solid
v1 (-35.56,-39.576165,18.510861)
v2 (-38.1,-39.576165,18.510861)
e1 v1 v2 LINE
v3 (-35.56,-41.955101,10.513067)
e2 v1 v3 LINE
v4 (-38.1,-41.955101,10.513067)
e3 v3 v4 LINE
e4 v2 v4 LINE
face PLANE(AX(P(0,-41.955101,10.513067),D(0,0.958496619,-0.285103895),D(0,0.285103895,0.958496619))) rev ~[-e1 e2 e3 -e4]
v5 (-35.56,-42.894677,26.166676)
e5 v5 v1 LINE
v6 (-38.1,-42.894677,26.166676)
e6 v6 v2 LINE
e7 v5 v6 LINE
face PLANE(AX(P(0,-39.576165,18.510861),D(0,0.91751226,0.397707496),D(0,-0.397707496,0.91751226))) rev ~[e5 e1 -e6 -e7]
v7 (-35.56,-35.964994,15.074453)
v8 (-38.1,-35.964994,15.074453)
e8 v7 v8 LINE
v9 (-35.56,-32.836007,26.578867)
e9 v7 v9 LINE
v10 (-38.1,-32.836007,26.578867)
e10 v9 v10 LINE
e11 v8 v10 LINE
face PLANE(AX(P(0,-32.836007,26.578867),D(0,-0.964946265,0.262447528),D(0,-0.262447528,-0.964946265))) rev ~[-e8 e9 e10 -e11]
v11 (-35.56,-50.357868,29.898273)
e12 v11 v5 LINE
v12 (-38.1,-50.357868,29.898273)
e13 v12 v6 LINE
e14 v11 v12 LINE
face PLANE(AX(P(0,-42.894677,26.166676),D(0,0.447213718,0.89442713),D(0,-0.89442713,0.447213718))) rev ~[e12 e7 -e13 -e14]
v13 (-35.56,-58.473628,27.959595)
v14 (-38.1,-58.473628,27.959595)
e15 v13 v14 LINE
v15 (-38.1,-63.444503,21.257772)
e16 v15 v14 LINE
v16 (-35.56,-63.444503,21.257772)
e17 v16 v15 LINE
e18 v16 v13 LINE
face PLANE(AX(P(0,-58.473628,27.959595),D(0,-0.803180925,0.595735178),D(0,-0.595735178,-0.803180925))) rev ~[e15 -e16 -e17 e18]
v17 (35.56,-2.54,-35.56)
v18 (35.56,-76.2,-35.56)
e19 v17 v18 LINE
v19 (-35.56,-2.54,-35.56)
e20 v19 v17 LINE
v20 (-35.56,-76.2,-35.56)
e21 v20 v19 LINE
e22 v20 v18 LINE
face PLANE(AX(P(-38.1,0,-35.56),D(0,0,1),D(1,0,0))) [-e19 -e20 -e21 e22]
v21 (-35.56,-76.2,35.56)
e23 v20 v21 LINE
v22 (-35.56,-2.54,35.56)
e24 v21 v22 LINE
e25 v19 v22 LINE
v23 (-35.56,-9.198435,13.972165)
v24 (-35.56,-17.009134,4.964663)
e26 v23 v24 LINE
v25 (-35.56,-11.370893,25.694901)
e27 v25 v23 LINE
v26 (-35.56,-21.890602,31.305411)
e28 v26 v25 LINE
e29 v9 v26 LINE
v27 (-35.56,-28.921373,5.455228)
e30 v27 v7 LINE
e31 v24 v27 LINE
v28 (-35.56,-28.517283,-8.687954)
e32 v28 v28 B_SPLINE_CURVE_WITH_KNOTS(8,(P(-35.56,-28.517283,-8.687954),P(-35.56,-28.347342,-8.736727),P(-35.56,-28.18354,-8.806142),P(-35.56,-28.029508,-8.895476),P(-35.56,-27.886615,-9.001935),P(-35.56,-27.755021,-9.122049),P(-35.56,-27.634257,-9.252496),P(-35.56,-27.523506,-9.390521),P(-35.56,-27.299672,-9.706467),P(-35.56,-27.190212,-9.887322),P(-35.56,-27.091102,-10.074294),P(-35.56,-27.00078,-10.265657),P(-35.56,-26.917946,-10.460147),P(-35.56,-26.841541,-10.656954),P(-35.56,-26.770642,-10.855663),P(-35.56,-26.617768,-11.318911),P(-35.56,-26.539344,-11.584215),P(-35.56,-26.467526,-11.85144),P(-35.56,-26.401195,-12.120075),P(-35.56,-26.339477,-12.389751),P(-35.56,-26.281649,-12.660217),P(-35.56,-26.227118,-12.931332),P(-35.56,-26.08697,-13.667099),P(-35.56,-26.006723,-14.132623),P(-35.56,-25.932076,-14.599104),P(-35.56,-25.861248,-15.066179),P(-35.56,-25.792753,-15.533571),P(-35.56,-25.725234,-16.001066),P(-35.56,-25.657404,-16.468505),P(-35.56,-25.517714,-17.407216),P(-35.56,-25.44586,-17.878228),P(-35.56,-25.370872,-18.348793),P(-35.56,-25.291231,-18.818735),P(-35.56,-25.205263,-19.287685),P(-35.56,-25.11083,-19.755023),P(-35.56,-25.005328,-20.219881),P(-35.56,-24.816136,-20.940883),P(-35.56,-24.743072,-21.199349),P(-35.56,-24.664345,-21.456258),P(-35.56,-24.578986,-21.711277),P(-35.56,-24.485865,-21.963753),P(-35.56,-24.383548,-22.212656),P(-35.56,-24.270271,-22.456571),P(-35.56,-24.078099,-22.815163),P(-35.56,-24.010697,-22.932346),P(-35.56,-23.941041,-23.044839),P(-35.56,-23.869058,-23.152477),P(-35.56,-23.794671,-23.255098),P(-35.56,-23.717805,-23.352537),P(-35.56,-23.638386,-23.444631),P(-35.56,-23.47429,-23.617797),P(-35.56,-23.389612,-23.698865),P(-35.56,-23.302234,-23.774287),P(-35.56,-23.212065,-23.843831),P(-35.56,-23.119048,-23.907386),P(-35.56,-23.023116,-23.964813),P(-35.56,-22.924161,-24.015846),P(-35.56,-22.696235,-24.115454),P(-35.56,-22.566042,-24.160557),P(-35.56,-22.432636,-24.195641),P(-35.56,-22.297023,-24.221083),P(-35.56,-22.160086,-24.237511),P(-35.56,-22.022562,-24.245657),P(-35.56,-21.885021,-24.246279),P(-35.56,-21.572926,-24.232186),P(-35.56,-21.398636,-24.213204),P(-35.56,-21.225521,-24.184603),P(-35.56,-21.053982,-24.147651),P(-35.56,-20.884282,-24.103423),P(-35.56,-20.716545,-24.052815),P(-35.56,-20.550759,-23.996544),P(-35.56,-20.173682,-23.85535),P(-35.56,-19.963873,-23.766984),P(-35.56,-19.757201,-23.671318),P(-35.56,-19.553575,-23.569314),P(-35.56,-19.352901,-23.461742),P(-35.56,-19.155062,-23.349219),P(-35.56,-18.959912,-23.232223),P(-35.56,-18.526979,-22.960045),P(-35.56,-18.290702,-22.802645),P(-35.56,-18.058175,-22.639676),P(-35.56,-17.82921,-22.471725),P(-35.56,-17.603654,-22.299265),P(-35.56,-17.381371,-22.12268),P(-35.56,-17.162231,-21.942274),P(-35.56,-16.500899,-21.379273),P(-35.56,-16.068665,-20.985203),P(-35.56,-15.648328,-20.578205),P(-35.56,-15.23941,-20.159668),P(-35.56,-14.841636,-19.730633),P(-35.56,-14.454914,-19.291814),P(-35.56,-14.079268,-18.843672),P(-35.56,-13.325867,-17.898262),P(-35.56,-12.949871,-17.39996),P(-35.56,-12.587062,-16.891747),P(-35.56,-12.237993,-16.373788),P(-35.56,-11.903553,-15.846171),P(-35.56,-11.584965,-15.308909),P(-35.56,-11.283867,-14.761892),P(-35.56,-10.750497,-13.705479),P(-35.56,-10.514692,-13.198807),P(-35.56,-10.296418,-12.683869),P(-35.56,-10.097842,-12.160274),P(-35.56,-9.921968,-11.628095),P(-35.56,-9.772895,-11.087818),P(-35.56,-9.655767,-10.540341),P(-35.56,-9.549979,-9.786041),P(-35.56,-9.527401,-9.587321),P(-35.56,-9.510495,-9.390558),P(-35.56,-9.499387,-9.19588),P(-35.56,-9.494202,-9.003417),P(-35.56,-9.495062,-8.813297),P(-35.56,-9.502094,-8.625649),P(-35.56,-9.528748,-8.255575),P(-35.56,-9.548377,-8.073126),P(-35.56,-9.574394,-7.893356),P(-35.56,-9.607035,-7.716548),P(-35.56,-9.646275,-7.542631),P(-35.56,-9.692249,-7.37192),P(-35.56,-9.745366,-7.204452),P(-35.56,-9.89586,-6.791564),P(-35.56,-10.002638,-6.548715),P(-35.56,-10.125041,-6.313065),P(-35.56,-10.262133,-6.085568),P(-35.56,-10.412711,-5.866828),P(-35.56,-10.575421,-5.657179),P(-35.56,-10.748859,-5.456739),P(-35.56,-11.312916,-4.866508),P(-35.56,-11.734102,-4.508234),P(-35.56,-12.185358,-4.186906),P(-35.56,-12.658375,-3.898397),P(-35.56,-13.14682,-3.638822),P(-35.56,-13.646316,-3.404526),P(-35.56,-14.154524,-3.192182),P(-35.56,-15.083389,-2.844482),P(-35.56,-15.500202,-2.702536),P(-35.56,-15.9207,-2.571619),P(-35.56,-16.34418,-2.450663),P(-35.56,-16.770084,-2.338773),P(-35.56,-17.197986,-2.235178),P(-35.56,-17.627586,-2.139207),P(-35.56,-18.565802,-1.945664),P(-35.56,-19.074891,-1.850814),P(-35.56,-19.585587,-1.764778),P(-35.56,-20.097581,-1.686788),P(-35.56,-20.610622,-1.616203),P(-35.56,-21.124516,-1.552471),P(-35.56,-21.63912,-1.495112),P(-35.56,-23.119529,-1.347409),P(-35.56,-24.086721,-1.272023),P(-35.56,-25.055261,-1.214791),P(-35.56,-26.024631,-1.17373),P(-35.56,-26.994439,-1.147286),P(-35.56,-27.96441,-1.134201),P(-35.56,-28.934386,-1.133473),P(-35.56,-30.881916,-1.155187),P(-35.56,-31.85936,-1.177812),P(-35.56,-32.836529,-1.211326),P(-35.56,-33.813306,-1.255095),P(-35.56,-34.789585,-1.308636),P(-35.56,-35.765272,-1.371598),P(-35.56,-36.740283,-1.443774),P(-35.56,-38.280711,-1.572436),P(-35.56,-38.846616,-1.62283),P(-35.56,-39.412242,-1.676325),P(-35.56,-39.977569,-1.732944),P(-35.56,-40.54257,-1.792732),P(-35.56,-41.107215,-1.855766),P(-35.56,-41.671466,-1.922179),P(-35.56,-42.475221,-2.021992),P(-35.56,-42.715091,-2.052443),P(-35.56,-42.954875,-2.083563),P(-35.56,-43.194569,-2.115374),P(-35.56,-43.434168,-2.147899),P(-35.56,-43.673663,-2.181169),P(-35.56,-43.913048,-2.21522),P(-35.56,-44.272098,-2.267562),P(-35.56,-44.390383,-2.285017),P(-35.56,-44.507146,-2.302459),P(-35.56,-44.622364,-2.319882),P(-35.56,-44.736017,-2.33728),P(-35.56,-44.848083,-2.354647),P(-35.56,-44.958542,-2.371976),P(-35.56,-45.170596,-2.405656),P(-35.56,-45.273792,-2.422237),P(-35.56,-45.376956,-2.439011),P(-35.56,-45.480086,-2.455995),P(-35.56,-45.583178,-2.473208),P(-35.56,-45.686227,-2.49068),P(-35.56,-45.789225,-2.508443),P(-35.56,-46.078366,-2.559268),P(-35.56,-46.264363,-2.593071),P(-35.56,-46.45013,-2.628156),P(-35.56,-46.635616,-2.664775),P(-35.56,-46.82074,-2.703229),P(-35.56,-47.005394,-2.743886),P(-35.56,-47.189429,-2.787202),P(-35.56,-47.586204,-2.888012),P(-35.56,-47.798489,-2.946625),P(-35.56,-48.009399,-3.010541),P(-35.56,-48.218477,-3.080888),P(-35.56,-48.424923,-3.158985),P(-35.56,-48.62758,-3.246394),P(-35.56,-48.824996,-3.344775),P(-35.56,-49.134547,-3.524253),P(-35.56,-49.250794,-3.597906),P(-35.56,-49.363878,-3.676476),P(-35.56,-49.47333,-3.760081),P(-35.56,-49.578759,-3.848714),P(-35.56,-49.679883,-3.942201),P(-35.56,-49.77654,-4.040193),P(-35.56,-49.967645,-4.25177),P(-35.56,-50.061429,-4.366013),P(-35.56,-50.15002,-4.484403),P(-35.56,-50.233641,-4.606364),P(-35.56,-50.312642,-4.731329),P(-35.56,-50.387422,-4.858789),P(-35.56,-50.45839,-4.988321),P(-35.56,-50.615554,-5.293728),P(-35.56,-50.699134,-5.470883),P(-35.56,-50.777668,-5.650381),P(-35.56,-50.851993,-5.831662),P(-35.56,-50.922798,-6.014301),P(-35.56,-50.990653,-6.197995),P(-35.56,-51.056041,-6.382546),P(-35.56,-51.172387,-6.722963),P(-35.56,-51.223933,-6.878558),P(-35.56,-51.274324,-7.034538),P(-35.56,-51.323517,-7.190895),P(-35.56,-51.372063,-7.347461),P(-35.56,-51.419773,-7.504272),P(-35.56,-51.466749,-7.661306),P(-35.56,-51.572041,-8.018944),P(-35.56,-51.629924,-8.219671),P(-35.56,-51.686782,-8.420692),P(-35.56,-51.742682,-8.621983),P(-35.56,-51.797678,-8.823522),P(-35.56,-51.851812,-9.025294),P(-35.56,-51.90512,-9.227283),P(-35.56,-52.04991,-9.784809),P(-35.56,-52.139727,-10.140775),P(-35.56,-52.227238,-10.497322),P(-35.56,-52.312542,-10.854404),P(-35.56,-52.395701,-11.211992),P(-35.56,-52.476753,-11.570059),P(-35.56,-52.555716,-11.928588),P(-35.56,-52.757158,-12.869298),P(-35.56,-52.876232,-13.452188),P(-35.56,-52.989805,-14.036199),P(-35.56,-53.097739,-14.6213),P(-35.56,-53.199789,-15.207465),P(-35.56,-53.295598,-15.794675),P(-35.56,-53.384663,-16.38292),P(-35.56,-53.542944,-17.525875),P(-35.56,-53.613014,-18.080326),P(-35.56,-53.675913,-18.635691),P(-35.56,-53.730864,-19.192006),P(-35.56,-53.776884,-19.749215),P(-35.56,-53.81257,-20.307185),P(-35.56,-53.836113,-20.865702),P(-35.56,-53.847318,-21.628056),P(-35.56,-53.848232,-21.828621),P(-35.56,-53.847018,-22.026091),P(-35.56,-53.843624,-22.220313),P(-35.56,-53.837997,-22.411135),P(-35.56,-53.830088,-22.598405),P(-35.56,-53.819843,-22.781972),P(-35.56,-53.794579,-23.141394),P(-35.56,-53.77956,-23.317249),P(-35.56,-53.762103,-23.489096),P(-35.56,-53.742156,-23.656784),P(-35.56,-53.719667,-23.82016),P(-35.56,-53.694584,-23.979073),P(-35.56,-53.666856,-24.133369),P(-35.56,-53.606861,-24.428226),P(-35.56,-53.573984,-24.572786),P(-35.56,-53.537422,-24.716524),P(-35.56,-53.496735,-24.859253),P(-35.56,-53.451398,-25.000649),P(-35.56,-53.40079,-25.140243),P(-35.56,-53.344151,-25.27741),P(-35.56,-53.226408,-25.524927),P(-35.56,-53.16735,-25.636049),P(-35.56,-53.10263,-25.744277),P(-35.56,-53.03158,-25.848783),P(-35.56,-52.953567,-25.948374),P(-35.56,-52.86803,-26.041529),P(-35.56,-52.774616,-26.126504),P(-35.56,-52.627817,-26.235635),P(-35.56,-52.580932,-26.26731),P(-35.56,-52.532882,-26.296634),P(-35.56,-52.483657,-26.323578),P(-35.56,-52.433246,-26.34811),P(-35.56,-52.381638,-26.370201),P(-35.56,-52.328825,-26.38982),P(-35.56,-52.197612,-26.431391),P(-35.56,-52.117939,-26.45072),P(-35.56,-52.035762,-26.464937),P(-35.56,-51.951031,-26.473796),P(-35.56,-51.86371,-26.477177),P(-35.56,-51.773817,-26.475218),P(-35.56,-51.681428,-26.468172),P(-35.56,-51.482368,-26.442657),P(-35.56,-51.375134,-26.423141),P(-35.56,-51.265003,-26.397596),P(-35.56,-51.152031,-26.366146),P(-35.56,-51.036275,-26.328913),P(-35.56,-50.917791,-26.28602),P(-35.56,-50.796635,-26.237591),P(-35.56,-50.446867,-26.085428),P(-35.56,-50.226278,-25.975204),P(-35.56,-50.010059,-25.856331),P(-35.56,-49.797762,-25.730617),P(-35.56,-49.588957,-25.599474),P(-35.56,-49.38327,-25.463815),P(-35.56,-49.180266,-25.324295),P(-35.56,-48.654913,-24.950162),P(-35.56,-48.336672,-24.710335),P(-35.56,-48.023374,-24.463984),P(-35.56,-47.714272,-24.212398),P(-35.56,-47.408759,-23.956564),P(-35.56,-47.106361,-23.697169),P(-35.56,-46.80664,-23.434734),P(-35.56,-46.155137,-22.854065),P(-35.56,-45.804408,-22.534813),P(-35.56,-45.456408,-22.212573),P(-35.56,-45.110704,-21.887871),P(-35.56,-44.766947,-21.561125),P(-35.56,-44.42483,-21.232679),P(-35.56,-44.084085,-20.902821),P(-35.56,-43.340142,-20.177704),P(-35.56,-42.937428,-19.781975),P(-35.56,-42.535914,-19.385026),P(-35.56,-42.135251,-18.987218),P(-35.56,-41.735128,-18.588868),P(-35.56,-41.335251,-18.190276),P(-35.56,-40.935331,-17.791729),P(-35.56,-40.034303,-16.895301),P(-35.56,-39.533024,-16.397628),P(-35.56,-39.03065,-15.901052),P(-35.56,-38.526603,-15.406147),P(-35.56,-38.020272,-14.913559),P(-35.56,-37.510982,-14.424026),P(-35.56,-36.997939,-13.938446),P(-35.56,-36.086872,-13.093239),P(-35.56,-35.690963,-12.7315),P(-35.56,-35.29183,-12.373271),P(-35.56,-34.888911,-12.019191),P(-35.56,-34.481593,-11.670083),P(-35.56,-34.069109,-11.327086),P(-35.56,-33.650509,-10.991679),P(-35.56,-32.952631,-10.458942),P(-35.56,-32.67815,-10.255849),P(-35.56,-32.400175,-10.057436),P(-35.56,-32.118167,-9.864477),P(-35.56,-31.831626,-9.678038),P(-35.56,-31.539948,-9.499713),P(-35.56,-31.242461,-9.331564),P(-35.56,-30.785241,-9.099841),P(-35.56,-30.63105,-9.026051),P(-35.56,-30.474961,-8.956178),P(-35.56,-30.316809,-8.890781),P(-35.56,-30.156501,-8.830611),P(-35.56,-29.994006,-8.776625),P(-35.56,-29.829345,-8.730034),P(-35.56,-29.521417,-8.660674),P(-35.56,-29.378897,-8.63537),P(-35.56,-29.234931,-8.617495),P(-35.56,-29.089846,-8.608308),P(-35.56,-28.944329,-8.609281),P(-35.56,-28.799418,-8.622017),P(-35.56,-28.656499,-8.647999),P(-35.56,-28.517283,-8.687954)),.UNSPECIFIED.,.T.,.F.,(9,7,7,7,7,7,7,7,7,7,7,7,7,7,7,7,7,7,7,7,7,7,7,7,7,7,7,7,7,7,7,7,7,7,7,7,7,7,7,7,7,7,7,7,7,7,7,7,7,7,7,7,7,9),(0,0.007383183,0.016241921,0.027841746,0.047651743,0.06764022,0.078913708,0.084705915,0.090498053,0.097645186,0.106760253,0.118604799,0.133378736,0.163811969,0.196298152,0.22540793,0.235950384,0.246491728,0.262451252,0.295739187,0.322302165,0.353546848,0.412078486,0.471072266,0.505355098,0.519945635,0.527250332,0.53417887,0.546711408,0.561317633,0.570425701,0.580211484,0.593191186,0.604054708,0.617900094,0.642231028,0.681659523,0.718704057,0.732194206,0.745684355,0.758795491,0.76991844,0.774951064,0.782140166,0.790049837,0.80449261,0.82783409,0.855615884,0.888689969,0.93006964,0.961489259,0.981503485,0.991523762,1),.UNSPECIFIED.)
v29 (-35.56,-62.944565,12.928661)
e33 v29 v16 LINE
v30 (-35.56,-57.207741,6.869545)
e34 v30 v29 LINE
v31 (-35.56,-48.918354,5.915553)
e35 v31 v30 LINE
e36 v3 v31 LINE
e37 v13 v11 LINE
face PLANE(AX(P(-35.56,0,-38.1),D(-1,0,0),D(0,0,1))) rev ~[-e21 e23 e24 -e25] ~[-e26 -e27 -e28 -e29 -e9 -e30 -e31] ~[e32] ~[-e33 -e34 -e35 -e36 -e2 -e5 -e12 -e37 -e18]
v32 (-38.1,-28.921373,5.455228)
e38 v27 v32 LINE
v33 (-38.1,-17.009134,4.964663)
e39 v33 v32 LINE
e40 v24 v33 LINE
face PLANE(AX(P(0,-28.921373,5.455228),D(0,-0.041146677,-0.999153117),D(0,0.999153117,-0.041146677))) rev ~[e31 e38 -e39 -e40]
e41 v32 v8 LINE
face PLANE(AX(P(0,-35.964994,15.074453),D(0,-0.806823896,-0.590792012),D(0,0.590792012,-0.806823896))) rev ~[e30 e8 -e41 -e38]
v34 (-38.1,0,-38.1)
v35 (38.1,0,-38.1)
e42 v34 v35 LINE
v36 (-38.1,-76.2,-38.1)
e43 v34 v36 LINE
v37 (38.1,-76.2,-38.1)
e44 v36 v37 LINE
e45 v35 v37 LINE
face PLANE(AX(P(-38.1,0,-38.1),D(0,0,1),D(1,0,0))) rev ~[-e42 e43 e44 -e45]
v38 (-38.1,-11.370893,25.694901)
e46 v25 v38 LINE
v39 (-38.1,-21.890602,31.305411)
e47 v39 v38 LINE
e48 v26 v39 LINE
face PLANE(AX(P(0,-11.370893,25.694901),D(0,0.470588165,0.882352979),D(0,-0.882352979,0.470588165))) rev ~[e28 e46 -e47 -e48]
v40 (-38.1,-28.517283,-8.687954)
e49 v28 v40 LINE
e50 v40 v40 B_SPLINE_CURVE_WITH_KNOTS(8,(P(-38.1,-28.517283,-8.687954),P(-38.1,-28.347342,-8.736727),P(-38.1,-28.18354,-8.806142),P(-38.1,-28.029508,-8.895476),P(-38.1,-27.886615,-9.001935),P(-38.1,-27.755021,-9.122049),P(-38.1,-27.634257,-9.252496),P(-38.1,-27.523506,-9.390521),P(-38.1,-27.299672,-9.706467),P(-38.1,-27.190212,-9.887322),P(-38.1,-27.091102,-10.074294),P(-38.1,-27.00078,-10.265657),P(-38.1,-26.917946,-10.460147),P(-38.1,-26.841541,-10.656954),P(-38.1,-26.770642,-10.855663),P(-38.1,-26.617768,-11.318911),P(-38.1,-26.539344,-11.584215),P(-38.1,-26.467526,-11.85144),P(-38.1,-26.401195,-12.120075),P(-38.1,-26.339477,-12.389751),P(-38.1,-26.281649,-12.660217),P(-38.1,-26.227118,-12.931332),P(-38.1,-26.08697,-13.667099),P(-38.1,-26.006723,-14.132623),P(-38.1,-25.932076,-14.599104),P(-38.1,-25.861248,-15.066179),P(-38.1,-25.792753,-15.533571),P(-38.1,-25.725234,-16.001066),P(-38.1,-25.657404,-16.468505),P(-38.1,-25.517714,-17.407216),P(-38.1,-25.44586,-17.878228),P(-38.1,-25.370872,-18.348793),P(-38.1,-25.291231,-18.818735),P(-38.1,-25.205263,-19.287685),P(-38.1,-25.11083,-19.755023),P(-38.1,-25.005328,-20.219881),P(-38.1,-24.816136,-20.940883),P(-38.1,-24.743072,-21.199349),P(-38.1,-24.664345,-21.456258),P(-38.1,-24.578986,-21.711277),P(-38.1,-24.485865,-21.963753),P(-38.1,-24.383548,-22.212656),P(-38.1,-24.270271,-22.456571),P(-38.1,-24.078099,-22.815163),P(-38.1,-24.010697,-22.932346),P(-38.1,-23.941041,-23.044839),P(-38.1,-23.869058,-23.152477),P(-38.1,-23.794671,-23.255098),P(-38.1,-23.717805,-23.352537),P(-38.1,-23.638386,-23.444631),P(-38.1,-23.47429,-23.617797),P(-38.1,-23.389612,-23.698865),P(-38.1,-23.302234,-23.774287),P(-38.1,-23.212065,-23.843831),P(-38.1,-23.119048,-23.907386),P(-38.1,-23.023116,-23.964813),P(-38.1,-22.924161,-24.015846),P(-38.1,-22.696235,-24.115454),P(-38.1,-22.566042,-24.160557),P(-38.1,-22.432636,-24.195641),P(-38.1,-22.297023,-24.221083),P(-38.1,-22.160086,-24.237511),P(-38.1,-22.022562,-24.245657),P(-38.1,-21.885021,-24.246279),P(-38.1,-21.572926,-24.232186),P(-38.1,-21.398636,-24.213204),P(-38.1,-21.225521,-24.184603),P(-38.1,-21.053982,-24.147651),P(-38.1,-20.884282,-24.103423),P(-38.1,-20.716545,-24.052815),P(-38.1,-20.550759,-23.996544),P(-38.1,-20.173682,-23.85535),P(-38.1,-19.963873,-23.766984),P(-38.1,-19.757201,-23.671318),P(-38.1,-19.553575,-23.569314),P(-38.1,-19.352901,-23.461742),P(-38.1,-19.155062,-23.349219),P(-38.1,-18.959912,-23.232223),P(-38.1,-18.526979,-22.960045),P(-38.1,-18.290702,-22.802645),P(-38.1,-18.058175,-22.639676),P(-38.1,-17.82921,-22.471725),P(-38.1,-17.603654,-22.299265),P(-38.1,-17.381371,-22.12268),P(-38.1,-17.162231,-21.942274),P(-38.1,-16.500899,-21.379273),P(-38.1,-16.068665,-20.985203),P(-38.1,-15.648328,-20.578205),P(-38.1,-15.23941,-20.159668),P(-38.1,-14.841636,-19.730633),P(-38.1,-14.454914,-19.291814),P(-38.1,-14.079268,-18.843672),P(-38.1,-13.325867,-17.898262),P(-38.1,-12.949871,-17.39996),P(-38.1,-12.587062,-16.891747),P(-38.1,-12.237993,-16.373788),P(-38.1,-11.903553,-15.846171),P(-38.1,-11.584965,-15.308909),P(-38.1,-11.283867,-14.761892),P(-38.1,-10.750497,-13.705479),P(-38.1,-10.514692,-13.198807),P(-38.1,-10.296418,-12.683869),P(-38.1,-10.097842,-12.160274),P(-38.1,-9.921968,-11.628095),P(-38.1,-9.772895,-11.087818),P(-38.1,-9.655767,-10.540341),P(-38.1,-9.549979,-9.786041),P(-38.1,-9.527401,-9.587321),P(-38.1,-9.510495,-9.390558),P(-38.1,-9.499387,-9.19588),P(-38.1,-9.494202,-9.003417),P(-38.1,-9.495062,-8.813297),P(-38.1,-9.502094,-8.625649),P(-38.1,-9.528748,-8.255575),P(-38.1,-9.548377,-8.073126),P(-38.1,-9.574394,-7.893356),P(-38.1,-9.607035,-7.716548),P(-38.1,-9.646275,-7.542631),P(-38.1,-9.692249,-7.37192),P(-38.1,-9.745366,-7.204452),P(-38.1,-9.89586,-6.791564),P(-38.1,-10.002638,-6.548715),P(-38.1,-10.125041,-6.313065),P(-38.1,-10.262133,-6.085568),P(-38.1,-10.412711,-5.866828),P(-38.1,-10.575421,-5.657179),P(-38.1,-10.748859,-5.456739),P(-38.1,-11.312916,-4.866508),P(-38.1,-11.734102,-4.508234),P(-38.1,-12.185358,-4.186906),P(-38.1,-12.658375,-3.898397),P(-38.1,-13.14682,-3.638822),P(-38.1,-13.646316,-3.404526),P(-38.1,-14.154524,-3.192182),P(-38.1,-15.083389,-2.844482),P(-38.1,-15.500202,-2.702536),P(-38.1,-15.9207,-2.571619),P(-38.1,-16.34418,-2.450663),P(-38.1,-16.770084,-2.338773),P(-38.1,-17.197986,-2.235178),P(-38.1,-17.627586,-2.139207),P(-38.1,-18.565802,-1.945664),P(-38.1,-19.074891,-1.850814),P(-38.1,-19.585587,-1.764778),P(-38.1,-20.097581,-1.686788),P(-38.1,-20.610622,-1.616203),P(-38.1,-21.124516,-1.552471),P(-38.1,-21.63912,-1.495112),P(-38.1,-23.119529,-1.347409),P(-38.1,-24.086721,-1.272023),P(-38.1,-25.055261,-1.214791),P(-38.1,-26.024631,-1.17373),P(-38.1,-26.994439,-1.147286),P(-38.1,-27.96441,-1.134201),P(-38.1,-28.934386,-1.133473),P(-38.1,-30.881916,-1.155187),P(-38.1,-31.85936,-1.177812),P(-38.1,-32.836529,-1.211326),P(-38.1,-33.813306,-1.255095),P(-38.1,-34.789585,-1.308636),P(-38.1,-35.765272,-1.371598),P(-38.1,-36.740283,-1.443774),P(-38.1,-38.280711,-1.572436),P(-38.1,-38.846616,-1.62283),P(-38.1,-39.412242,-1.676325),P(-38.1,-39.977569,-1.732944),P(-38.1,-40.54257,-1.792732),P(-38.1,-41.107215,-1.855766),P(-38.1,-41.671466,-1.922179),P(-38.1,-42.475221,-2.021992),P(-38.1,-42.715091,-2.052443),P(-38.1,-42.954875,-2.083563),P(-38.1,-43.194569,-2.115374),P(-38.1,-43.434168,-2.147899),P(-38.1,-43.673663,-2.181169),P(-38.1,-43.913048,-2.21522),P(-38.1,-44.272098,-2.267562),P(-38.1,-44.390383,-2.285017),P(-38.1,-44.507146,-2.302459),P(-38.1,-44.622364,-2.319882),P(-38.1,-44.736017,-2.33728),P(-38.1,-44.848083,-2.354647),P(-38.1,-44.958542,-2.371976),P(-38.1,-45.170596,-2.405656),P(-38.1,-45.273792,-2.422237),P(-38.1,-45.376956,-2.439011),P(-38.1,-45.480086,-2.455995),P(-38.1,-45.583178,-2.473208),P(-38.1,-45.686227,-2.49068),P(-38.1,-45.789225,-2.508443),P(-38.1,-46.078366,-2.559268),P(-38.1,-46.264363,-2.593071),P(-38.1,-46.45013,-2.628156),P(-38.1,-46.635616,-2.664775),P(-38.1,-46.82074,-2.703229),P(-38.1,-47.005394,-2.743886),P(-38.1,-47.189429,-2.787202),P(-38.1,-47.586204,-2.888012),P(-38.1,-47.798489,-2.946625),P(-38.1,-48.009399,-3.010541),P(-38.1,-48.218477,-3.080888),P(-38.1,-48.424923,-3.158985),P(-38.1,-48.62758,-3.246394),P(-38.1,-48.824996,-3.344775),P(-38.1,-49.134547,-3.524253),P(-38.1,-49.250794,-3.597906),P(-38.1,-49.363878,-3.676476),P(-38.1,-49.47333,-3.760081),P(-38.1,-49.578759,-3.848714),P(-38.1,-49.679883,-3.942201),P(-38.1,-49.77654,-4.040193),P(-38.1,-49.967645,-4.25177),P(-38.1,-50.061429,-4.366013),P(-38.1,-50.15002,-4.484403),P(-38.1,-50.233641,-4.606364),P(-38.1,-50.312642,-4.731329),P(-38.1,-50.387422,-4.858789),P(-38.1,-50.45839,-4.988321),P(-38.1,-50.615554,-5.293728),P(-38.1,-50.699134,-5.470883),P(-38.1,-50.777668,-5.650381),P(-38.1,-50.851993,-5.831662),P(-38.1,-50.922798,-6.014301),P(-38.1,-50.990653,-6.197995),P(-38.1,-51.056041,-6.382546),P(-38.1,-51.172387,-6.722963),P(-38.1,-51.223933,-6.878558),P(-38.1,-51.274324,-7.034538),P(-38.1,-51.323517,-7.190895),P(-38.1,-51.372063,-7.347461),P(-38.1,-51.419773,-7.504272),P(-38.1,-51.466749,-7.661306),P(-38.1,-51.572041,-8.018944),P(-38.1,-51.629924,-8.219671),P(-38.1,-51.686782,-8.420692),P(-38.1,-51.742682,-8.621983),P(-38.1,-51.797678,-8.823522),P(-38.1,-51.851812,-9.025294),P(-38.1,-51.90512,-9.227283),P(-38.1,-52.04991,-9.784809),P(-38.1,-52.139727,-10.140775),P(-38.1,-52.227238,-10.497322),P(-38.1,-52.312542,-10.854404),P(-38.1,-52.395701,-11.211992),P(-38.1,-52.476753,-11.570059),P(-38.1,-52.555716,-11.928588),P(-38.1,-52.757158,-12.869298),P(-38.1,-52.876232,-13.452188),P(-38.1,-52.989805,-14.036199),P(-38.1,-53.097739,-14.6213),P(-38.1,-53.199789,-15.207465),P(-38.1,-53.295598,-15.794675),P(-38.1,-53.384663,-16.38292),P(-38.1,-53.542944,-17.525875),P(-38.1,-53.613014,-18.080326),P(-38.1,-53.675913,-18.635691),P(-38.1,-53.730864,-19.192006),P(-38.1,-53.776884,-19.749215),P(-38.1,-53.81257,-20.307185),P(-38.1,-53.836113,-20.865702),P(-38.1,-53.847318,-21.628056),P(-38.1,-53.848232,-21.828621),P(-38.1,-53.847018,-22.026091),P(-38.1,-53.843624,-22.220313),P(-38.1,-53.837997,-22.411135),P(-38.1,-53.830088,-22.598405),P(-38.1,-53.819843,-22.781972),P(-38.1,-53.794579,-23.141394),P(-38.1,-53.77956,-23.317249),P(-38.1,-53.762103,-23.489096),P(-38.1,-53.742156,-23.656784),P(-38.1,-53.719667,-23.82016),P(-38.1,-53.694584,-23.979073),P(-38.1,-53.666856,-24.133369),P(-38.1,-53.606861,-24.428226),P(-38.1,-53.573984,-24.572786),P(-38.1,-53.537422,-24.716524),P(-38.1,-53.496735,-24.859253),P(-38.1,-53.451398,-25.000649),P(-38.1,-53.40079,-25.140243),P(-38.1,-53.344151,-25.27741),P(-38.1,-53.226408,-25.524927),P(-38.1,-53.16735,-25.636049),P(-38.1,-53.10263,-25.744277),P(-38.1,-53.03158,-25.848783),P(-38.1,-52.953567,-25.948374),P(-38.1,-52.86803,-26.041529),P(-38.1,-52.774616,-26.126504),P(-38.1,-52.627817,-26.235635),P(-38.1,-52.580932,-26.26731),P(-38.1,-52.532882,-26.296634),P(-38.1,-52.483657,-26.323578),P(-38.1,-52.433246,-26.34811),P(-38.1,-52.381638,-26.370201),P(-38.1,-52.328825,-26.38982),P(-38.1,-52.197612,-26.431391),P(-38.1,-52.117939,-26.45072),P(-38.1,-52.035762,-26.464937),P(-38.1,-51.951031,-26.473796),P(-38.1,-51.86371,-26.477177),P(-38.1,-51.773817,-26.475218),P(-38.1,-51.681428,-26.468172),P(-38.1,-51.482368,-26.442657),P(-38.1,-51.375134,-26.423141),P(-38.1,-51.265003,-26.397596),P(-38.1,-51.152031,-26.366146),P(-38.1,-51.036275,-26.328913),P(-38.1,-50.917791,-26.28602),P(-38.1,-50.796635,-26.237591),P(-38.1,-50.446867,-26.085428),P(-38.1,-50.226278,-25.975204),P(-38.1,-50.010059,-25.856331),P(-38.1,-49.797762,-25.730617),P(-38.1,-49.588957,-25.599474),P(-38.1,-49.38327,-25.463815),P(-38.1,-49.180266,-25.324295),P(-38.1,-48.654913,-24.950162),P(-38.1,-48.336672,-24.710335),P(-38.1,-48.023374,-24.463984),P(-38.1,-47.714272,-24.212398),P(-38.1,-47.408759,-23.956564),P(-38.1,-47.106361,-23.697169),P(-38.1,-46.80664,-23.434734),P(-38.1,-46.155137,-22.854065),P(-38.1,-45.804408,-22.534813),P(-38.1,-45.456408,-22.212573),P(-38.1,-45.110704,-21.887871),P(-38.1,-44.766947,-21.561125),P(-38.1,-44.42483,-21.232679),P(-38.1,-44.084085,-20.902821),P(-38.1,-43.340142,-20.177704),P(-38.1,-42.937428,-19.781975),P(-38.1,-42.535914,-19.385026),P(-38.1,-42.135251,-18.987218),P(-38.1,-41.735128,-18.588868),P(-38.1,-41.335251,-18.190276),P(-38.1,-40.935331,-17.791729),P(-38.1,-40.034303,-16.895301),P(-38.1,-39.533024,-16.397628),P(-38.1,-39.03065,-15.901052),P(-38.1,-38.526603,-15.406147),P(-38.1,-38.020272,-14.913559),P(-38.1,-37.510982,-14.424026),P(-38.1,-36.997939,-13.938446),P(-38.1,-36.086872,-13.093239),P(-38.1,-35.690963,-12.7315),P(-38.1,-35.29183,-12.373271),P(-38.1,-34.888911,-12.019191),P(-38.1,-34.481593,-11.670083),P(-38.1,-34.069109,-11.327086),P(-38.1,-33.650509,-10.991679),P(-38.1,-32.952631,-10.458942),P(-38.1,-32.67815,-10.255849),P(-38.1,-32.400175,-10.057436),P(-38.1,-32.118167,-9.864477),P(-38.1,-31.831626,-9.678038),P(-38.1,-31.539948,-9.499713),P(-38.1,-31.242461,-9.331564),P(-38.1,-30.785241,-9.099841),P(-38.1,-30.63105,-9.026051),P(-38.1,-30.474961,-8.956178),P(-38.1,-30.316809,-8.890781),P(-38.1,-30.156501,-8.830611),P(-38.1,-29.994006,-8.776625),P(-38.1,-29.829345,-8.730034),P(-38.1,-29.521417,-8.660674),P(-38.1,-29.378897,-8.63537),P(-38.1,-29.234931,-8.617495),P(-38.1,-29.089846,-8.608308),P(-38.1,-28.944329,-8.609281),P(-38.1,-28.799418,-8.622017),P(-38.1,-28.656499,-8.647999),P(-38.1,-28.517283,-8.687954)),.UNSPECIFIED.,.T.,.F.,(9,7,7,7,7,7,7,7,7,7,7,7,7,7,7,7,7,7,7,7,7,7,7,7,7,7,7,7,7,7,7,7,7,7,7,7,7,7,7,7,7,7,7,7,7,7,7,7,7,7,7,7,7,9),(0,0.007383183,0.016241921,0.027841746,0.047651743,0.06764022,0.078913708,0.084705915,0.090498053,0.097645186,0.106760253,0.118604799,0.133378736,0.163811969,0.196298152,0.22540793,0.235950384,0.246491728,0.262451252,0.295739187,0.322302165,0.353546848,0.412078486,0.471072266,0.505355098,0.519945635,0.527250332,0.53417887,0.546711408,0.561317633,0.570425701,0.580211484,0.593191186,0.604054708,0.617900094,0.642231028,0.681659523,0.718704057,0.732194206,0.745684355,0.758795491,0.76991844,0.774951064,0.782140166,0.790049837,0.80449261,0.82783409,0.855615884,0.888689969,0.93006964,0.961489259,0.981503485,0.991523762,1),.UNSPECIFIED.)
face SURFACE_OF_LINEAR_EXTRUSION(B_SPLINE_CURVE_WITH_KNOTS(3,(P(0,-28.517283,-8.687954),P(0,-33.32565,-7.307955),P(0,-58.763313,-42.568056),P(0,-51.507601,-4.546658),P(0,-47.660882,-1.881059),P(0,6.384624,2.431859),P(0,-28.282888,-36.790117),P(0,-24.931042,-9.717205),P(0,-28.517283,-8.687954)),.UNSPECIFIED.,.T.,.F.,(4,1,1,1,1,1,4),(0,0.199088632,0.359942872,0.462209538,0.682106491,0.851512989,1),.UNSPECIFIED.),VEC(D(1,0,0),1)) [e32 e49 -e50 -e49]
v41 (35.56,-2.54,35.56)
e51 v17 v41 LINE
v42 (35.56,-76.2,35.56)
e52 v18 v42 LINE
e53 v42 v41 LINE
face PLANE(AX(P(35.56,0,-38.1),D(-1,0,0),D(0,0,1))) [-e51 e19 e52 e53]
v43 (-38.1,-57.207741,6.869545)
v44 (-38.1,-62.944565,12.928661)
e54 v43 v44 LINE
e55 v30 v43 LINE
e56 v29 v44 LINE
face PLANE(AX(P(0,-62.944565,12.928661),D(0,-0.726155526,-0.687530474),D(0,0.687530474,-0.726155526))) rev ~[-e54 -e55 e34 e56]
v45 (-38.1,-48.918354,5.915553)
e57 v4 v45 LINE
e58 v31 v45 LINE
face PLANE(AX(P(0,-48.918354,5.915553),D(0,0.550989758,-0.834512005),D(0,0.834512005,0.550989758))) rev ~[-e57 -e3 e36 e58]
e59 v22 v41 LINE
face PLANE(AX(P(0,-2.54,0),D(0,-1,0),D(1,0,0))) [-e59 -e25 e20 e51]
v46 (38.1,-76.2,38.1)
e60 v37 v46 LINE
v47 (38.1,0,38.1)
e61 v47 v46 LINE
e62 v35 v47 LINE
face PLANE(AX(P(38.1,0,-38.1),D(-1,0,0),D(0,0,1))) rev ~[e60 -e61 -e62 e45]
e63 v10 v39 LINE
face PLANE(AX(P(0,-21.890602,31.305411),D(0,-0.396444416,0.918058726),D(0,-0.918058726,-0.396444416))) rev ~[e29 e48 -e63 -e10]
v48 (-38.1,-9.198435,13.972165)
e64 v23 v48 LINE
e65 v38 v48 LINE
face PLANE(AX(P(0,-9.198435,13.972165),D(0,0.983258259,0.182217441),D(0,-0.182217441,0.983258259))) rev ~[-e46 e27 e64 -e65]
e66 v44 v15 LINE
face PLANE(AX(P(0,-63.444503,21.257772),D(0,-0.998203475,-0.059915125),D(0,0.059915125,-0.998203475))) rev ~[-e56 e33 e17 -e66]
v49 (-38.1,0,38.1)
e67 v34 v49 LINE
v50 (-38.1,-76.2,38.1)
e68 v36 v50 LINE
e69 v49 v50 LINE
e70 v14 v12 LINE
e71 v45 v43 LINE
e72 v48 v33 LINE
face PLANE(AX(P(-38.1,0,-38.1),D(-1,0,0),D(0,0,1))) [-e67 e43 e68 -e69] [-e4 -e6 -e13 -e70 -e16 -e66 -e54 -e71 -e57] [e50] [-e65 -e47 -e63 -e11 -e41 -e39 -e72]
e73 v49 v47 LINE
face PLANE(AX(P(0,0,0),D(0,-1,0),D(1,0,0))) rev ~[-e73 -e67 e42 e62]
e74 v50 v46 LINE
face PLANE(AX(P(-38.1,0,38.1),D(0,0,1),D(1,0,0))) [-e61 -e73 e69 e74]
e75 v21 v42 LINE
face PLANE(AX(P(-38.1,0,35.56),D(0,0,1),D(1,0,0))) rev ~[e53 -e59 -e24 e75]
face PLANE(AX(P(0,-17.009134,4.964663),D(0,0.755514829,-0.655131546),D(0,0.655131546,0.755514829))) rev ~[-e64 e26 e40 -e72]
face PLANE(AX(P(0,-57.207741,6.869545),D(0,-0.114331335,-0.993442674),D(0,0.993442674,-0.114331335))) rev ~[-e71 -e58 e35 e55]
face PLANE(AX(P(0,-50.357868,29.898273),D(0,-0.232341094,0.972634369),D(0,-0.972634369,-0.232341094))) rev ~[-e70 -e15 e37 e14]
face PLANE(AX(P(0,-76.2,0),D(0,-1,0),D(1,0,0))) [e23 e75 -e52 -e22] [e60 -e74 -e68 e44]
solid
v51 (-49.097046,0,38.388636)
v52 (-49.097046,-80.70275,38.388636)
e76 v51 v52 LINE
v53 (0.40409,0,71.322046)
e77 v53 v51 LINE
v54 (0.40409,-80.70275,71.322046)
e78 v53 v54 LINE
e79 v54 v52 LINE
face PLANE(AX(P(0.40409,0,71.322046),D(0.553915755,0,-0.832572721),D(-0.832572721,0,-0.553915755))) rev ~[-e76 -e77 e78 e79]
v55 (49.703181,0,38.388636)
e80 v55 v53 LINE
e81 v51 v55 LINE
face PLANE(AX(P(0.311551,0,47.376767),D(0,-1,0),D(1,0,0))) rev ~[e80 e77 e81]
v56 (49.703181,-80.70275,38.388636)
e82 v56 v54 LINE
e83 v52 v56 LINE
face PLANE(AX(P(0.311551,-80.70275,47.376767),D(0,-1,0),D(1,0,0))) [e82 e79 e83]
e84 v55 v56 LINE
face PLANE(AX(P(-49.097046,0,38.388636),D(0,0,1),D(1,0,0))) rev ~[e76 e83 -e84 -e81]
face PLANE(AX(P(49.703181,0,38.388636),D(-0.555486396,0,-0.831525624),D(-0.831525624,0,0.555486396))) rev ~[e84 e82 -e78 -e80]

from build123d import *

# Parameters (mm, degrees)
F0_W     = 76.2
F0_H     = 76.2
F1_DEPTH = 76.2
F2_T     = -2.54
F4_DEPTH = 80.70275
F6_DEPTH = 72.34948
F7_DEPTH = 45.27984


with BuildPart() as f1:
    # F0 (on Front) → F1 (new body)
    with BuildSketch(Plane.XZ):
        Rectangle(F0_W, F0_H)
    extrude(amount=F1_DEPTH)

    # F2
    f2_openings = [f1.faces().sort_by_distance(p)[0] for p in [
        (0, -76.2, 0),
    ]]
    offset(amount=F2_T, openings=f2_openings)

    # F5 (on Right) → F6 (cut)
    with BuildSketch(Plane.YZ):
        Polygon((-62.9445649822, 12.9286607004), (-57.2077408433, 6.8695452064), (-48.9183542253, 5.9155529274), (-41.9551012531, 10.5130674533), (-39.5761653803, 18.5108606416), (-42.8946771407, 26.166676174), (-50.3578680004, 29.898272878), (-58.4736280121, 27.9595951837), (-63.4445028697, 21.2577719303), align=None)
    extrude(amount=-F6_DEPTH, mode=Mode.SUBTRACT)

    # F5 (on Right) → F7 (cut)
    with BuildSketch(Plane.YZ):
        Polygon((-35.9649943015, 15.0744534794), (-28.9213731885, 5.4552275687), (-17.0091336025, 4.9646630483), (-9.198434917, 13.9721650078), (-11.3708925516, 25.694900752), (-21.8906015972, 31.3054111655), (-32.8360065796, 26.5788674732), align=None)
        with BuildLine():
            add(Edge.make_bspline(
                [(-28.5172834992, -8.687954396), (-33.3256495404, -7.3079547514), (-58.7633130578, -42.5680563185), (-51.5076013001, -4.5466579825), (-47.6608822964, -1.8810588006), (6.3846242278, 2.4318586114), (-28.2828882588, -36.7901174711), (-24.9310420648, -9.7172046367), (-28.5172834992, -8.687954396)],
                knots=[0, 0, 0, 0, 0.199088632, 0.3599428724, 0.4622095381, 0.6821064913, 0.851512989, 1, 1, 1, 1], degree=3))
        make_face()
        Polygon((-62.9445649822, 12.9286607004), (-57.2077408433, 6.8695452064), (-48.9183542253, 5.9155529274), (-41.9551012531, 10.5130674533), (-39.5761653803, 18.5108606416), (-42.8946771407, 26.166676174), (-50.3578680004, 29.898272878), (-58.4736280121, 27.9595951837), (-63.4445028697, 21.2577719303), align=None)
    extrude(amount=-F7_DEPTH, mode=Mode.SUBTRACT)


with BuildPart() as f4:
    # F3 (on Front) → F4 (new body)
    with BuildSketch(Plane.XZ):
        Polygon((-49.0970462561, 38.3886359632), (49.7031807899, 38.3886359632), (0.4040895437, 71.3220462203), align=None)
    extrude(amount=F4_DEPTH)


solid = Compound([f1.part, f4.part])
